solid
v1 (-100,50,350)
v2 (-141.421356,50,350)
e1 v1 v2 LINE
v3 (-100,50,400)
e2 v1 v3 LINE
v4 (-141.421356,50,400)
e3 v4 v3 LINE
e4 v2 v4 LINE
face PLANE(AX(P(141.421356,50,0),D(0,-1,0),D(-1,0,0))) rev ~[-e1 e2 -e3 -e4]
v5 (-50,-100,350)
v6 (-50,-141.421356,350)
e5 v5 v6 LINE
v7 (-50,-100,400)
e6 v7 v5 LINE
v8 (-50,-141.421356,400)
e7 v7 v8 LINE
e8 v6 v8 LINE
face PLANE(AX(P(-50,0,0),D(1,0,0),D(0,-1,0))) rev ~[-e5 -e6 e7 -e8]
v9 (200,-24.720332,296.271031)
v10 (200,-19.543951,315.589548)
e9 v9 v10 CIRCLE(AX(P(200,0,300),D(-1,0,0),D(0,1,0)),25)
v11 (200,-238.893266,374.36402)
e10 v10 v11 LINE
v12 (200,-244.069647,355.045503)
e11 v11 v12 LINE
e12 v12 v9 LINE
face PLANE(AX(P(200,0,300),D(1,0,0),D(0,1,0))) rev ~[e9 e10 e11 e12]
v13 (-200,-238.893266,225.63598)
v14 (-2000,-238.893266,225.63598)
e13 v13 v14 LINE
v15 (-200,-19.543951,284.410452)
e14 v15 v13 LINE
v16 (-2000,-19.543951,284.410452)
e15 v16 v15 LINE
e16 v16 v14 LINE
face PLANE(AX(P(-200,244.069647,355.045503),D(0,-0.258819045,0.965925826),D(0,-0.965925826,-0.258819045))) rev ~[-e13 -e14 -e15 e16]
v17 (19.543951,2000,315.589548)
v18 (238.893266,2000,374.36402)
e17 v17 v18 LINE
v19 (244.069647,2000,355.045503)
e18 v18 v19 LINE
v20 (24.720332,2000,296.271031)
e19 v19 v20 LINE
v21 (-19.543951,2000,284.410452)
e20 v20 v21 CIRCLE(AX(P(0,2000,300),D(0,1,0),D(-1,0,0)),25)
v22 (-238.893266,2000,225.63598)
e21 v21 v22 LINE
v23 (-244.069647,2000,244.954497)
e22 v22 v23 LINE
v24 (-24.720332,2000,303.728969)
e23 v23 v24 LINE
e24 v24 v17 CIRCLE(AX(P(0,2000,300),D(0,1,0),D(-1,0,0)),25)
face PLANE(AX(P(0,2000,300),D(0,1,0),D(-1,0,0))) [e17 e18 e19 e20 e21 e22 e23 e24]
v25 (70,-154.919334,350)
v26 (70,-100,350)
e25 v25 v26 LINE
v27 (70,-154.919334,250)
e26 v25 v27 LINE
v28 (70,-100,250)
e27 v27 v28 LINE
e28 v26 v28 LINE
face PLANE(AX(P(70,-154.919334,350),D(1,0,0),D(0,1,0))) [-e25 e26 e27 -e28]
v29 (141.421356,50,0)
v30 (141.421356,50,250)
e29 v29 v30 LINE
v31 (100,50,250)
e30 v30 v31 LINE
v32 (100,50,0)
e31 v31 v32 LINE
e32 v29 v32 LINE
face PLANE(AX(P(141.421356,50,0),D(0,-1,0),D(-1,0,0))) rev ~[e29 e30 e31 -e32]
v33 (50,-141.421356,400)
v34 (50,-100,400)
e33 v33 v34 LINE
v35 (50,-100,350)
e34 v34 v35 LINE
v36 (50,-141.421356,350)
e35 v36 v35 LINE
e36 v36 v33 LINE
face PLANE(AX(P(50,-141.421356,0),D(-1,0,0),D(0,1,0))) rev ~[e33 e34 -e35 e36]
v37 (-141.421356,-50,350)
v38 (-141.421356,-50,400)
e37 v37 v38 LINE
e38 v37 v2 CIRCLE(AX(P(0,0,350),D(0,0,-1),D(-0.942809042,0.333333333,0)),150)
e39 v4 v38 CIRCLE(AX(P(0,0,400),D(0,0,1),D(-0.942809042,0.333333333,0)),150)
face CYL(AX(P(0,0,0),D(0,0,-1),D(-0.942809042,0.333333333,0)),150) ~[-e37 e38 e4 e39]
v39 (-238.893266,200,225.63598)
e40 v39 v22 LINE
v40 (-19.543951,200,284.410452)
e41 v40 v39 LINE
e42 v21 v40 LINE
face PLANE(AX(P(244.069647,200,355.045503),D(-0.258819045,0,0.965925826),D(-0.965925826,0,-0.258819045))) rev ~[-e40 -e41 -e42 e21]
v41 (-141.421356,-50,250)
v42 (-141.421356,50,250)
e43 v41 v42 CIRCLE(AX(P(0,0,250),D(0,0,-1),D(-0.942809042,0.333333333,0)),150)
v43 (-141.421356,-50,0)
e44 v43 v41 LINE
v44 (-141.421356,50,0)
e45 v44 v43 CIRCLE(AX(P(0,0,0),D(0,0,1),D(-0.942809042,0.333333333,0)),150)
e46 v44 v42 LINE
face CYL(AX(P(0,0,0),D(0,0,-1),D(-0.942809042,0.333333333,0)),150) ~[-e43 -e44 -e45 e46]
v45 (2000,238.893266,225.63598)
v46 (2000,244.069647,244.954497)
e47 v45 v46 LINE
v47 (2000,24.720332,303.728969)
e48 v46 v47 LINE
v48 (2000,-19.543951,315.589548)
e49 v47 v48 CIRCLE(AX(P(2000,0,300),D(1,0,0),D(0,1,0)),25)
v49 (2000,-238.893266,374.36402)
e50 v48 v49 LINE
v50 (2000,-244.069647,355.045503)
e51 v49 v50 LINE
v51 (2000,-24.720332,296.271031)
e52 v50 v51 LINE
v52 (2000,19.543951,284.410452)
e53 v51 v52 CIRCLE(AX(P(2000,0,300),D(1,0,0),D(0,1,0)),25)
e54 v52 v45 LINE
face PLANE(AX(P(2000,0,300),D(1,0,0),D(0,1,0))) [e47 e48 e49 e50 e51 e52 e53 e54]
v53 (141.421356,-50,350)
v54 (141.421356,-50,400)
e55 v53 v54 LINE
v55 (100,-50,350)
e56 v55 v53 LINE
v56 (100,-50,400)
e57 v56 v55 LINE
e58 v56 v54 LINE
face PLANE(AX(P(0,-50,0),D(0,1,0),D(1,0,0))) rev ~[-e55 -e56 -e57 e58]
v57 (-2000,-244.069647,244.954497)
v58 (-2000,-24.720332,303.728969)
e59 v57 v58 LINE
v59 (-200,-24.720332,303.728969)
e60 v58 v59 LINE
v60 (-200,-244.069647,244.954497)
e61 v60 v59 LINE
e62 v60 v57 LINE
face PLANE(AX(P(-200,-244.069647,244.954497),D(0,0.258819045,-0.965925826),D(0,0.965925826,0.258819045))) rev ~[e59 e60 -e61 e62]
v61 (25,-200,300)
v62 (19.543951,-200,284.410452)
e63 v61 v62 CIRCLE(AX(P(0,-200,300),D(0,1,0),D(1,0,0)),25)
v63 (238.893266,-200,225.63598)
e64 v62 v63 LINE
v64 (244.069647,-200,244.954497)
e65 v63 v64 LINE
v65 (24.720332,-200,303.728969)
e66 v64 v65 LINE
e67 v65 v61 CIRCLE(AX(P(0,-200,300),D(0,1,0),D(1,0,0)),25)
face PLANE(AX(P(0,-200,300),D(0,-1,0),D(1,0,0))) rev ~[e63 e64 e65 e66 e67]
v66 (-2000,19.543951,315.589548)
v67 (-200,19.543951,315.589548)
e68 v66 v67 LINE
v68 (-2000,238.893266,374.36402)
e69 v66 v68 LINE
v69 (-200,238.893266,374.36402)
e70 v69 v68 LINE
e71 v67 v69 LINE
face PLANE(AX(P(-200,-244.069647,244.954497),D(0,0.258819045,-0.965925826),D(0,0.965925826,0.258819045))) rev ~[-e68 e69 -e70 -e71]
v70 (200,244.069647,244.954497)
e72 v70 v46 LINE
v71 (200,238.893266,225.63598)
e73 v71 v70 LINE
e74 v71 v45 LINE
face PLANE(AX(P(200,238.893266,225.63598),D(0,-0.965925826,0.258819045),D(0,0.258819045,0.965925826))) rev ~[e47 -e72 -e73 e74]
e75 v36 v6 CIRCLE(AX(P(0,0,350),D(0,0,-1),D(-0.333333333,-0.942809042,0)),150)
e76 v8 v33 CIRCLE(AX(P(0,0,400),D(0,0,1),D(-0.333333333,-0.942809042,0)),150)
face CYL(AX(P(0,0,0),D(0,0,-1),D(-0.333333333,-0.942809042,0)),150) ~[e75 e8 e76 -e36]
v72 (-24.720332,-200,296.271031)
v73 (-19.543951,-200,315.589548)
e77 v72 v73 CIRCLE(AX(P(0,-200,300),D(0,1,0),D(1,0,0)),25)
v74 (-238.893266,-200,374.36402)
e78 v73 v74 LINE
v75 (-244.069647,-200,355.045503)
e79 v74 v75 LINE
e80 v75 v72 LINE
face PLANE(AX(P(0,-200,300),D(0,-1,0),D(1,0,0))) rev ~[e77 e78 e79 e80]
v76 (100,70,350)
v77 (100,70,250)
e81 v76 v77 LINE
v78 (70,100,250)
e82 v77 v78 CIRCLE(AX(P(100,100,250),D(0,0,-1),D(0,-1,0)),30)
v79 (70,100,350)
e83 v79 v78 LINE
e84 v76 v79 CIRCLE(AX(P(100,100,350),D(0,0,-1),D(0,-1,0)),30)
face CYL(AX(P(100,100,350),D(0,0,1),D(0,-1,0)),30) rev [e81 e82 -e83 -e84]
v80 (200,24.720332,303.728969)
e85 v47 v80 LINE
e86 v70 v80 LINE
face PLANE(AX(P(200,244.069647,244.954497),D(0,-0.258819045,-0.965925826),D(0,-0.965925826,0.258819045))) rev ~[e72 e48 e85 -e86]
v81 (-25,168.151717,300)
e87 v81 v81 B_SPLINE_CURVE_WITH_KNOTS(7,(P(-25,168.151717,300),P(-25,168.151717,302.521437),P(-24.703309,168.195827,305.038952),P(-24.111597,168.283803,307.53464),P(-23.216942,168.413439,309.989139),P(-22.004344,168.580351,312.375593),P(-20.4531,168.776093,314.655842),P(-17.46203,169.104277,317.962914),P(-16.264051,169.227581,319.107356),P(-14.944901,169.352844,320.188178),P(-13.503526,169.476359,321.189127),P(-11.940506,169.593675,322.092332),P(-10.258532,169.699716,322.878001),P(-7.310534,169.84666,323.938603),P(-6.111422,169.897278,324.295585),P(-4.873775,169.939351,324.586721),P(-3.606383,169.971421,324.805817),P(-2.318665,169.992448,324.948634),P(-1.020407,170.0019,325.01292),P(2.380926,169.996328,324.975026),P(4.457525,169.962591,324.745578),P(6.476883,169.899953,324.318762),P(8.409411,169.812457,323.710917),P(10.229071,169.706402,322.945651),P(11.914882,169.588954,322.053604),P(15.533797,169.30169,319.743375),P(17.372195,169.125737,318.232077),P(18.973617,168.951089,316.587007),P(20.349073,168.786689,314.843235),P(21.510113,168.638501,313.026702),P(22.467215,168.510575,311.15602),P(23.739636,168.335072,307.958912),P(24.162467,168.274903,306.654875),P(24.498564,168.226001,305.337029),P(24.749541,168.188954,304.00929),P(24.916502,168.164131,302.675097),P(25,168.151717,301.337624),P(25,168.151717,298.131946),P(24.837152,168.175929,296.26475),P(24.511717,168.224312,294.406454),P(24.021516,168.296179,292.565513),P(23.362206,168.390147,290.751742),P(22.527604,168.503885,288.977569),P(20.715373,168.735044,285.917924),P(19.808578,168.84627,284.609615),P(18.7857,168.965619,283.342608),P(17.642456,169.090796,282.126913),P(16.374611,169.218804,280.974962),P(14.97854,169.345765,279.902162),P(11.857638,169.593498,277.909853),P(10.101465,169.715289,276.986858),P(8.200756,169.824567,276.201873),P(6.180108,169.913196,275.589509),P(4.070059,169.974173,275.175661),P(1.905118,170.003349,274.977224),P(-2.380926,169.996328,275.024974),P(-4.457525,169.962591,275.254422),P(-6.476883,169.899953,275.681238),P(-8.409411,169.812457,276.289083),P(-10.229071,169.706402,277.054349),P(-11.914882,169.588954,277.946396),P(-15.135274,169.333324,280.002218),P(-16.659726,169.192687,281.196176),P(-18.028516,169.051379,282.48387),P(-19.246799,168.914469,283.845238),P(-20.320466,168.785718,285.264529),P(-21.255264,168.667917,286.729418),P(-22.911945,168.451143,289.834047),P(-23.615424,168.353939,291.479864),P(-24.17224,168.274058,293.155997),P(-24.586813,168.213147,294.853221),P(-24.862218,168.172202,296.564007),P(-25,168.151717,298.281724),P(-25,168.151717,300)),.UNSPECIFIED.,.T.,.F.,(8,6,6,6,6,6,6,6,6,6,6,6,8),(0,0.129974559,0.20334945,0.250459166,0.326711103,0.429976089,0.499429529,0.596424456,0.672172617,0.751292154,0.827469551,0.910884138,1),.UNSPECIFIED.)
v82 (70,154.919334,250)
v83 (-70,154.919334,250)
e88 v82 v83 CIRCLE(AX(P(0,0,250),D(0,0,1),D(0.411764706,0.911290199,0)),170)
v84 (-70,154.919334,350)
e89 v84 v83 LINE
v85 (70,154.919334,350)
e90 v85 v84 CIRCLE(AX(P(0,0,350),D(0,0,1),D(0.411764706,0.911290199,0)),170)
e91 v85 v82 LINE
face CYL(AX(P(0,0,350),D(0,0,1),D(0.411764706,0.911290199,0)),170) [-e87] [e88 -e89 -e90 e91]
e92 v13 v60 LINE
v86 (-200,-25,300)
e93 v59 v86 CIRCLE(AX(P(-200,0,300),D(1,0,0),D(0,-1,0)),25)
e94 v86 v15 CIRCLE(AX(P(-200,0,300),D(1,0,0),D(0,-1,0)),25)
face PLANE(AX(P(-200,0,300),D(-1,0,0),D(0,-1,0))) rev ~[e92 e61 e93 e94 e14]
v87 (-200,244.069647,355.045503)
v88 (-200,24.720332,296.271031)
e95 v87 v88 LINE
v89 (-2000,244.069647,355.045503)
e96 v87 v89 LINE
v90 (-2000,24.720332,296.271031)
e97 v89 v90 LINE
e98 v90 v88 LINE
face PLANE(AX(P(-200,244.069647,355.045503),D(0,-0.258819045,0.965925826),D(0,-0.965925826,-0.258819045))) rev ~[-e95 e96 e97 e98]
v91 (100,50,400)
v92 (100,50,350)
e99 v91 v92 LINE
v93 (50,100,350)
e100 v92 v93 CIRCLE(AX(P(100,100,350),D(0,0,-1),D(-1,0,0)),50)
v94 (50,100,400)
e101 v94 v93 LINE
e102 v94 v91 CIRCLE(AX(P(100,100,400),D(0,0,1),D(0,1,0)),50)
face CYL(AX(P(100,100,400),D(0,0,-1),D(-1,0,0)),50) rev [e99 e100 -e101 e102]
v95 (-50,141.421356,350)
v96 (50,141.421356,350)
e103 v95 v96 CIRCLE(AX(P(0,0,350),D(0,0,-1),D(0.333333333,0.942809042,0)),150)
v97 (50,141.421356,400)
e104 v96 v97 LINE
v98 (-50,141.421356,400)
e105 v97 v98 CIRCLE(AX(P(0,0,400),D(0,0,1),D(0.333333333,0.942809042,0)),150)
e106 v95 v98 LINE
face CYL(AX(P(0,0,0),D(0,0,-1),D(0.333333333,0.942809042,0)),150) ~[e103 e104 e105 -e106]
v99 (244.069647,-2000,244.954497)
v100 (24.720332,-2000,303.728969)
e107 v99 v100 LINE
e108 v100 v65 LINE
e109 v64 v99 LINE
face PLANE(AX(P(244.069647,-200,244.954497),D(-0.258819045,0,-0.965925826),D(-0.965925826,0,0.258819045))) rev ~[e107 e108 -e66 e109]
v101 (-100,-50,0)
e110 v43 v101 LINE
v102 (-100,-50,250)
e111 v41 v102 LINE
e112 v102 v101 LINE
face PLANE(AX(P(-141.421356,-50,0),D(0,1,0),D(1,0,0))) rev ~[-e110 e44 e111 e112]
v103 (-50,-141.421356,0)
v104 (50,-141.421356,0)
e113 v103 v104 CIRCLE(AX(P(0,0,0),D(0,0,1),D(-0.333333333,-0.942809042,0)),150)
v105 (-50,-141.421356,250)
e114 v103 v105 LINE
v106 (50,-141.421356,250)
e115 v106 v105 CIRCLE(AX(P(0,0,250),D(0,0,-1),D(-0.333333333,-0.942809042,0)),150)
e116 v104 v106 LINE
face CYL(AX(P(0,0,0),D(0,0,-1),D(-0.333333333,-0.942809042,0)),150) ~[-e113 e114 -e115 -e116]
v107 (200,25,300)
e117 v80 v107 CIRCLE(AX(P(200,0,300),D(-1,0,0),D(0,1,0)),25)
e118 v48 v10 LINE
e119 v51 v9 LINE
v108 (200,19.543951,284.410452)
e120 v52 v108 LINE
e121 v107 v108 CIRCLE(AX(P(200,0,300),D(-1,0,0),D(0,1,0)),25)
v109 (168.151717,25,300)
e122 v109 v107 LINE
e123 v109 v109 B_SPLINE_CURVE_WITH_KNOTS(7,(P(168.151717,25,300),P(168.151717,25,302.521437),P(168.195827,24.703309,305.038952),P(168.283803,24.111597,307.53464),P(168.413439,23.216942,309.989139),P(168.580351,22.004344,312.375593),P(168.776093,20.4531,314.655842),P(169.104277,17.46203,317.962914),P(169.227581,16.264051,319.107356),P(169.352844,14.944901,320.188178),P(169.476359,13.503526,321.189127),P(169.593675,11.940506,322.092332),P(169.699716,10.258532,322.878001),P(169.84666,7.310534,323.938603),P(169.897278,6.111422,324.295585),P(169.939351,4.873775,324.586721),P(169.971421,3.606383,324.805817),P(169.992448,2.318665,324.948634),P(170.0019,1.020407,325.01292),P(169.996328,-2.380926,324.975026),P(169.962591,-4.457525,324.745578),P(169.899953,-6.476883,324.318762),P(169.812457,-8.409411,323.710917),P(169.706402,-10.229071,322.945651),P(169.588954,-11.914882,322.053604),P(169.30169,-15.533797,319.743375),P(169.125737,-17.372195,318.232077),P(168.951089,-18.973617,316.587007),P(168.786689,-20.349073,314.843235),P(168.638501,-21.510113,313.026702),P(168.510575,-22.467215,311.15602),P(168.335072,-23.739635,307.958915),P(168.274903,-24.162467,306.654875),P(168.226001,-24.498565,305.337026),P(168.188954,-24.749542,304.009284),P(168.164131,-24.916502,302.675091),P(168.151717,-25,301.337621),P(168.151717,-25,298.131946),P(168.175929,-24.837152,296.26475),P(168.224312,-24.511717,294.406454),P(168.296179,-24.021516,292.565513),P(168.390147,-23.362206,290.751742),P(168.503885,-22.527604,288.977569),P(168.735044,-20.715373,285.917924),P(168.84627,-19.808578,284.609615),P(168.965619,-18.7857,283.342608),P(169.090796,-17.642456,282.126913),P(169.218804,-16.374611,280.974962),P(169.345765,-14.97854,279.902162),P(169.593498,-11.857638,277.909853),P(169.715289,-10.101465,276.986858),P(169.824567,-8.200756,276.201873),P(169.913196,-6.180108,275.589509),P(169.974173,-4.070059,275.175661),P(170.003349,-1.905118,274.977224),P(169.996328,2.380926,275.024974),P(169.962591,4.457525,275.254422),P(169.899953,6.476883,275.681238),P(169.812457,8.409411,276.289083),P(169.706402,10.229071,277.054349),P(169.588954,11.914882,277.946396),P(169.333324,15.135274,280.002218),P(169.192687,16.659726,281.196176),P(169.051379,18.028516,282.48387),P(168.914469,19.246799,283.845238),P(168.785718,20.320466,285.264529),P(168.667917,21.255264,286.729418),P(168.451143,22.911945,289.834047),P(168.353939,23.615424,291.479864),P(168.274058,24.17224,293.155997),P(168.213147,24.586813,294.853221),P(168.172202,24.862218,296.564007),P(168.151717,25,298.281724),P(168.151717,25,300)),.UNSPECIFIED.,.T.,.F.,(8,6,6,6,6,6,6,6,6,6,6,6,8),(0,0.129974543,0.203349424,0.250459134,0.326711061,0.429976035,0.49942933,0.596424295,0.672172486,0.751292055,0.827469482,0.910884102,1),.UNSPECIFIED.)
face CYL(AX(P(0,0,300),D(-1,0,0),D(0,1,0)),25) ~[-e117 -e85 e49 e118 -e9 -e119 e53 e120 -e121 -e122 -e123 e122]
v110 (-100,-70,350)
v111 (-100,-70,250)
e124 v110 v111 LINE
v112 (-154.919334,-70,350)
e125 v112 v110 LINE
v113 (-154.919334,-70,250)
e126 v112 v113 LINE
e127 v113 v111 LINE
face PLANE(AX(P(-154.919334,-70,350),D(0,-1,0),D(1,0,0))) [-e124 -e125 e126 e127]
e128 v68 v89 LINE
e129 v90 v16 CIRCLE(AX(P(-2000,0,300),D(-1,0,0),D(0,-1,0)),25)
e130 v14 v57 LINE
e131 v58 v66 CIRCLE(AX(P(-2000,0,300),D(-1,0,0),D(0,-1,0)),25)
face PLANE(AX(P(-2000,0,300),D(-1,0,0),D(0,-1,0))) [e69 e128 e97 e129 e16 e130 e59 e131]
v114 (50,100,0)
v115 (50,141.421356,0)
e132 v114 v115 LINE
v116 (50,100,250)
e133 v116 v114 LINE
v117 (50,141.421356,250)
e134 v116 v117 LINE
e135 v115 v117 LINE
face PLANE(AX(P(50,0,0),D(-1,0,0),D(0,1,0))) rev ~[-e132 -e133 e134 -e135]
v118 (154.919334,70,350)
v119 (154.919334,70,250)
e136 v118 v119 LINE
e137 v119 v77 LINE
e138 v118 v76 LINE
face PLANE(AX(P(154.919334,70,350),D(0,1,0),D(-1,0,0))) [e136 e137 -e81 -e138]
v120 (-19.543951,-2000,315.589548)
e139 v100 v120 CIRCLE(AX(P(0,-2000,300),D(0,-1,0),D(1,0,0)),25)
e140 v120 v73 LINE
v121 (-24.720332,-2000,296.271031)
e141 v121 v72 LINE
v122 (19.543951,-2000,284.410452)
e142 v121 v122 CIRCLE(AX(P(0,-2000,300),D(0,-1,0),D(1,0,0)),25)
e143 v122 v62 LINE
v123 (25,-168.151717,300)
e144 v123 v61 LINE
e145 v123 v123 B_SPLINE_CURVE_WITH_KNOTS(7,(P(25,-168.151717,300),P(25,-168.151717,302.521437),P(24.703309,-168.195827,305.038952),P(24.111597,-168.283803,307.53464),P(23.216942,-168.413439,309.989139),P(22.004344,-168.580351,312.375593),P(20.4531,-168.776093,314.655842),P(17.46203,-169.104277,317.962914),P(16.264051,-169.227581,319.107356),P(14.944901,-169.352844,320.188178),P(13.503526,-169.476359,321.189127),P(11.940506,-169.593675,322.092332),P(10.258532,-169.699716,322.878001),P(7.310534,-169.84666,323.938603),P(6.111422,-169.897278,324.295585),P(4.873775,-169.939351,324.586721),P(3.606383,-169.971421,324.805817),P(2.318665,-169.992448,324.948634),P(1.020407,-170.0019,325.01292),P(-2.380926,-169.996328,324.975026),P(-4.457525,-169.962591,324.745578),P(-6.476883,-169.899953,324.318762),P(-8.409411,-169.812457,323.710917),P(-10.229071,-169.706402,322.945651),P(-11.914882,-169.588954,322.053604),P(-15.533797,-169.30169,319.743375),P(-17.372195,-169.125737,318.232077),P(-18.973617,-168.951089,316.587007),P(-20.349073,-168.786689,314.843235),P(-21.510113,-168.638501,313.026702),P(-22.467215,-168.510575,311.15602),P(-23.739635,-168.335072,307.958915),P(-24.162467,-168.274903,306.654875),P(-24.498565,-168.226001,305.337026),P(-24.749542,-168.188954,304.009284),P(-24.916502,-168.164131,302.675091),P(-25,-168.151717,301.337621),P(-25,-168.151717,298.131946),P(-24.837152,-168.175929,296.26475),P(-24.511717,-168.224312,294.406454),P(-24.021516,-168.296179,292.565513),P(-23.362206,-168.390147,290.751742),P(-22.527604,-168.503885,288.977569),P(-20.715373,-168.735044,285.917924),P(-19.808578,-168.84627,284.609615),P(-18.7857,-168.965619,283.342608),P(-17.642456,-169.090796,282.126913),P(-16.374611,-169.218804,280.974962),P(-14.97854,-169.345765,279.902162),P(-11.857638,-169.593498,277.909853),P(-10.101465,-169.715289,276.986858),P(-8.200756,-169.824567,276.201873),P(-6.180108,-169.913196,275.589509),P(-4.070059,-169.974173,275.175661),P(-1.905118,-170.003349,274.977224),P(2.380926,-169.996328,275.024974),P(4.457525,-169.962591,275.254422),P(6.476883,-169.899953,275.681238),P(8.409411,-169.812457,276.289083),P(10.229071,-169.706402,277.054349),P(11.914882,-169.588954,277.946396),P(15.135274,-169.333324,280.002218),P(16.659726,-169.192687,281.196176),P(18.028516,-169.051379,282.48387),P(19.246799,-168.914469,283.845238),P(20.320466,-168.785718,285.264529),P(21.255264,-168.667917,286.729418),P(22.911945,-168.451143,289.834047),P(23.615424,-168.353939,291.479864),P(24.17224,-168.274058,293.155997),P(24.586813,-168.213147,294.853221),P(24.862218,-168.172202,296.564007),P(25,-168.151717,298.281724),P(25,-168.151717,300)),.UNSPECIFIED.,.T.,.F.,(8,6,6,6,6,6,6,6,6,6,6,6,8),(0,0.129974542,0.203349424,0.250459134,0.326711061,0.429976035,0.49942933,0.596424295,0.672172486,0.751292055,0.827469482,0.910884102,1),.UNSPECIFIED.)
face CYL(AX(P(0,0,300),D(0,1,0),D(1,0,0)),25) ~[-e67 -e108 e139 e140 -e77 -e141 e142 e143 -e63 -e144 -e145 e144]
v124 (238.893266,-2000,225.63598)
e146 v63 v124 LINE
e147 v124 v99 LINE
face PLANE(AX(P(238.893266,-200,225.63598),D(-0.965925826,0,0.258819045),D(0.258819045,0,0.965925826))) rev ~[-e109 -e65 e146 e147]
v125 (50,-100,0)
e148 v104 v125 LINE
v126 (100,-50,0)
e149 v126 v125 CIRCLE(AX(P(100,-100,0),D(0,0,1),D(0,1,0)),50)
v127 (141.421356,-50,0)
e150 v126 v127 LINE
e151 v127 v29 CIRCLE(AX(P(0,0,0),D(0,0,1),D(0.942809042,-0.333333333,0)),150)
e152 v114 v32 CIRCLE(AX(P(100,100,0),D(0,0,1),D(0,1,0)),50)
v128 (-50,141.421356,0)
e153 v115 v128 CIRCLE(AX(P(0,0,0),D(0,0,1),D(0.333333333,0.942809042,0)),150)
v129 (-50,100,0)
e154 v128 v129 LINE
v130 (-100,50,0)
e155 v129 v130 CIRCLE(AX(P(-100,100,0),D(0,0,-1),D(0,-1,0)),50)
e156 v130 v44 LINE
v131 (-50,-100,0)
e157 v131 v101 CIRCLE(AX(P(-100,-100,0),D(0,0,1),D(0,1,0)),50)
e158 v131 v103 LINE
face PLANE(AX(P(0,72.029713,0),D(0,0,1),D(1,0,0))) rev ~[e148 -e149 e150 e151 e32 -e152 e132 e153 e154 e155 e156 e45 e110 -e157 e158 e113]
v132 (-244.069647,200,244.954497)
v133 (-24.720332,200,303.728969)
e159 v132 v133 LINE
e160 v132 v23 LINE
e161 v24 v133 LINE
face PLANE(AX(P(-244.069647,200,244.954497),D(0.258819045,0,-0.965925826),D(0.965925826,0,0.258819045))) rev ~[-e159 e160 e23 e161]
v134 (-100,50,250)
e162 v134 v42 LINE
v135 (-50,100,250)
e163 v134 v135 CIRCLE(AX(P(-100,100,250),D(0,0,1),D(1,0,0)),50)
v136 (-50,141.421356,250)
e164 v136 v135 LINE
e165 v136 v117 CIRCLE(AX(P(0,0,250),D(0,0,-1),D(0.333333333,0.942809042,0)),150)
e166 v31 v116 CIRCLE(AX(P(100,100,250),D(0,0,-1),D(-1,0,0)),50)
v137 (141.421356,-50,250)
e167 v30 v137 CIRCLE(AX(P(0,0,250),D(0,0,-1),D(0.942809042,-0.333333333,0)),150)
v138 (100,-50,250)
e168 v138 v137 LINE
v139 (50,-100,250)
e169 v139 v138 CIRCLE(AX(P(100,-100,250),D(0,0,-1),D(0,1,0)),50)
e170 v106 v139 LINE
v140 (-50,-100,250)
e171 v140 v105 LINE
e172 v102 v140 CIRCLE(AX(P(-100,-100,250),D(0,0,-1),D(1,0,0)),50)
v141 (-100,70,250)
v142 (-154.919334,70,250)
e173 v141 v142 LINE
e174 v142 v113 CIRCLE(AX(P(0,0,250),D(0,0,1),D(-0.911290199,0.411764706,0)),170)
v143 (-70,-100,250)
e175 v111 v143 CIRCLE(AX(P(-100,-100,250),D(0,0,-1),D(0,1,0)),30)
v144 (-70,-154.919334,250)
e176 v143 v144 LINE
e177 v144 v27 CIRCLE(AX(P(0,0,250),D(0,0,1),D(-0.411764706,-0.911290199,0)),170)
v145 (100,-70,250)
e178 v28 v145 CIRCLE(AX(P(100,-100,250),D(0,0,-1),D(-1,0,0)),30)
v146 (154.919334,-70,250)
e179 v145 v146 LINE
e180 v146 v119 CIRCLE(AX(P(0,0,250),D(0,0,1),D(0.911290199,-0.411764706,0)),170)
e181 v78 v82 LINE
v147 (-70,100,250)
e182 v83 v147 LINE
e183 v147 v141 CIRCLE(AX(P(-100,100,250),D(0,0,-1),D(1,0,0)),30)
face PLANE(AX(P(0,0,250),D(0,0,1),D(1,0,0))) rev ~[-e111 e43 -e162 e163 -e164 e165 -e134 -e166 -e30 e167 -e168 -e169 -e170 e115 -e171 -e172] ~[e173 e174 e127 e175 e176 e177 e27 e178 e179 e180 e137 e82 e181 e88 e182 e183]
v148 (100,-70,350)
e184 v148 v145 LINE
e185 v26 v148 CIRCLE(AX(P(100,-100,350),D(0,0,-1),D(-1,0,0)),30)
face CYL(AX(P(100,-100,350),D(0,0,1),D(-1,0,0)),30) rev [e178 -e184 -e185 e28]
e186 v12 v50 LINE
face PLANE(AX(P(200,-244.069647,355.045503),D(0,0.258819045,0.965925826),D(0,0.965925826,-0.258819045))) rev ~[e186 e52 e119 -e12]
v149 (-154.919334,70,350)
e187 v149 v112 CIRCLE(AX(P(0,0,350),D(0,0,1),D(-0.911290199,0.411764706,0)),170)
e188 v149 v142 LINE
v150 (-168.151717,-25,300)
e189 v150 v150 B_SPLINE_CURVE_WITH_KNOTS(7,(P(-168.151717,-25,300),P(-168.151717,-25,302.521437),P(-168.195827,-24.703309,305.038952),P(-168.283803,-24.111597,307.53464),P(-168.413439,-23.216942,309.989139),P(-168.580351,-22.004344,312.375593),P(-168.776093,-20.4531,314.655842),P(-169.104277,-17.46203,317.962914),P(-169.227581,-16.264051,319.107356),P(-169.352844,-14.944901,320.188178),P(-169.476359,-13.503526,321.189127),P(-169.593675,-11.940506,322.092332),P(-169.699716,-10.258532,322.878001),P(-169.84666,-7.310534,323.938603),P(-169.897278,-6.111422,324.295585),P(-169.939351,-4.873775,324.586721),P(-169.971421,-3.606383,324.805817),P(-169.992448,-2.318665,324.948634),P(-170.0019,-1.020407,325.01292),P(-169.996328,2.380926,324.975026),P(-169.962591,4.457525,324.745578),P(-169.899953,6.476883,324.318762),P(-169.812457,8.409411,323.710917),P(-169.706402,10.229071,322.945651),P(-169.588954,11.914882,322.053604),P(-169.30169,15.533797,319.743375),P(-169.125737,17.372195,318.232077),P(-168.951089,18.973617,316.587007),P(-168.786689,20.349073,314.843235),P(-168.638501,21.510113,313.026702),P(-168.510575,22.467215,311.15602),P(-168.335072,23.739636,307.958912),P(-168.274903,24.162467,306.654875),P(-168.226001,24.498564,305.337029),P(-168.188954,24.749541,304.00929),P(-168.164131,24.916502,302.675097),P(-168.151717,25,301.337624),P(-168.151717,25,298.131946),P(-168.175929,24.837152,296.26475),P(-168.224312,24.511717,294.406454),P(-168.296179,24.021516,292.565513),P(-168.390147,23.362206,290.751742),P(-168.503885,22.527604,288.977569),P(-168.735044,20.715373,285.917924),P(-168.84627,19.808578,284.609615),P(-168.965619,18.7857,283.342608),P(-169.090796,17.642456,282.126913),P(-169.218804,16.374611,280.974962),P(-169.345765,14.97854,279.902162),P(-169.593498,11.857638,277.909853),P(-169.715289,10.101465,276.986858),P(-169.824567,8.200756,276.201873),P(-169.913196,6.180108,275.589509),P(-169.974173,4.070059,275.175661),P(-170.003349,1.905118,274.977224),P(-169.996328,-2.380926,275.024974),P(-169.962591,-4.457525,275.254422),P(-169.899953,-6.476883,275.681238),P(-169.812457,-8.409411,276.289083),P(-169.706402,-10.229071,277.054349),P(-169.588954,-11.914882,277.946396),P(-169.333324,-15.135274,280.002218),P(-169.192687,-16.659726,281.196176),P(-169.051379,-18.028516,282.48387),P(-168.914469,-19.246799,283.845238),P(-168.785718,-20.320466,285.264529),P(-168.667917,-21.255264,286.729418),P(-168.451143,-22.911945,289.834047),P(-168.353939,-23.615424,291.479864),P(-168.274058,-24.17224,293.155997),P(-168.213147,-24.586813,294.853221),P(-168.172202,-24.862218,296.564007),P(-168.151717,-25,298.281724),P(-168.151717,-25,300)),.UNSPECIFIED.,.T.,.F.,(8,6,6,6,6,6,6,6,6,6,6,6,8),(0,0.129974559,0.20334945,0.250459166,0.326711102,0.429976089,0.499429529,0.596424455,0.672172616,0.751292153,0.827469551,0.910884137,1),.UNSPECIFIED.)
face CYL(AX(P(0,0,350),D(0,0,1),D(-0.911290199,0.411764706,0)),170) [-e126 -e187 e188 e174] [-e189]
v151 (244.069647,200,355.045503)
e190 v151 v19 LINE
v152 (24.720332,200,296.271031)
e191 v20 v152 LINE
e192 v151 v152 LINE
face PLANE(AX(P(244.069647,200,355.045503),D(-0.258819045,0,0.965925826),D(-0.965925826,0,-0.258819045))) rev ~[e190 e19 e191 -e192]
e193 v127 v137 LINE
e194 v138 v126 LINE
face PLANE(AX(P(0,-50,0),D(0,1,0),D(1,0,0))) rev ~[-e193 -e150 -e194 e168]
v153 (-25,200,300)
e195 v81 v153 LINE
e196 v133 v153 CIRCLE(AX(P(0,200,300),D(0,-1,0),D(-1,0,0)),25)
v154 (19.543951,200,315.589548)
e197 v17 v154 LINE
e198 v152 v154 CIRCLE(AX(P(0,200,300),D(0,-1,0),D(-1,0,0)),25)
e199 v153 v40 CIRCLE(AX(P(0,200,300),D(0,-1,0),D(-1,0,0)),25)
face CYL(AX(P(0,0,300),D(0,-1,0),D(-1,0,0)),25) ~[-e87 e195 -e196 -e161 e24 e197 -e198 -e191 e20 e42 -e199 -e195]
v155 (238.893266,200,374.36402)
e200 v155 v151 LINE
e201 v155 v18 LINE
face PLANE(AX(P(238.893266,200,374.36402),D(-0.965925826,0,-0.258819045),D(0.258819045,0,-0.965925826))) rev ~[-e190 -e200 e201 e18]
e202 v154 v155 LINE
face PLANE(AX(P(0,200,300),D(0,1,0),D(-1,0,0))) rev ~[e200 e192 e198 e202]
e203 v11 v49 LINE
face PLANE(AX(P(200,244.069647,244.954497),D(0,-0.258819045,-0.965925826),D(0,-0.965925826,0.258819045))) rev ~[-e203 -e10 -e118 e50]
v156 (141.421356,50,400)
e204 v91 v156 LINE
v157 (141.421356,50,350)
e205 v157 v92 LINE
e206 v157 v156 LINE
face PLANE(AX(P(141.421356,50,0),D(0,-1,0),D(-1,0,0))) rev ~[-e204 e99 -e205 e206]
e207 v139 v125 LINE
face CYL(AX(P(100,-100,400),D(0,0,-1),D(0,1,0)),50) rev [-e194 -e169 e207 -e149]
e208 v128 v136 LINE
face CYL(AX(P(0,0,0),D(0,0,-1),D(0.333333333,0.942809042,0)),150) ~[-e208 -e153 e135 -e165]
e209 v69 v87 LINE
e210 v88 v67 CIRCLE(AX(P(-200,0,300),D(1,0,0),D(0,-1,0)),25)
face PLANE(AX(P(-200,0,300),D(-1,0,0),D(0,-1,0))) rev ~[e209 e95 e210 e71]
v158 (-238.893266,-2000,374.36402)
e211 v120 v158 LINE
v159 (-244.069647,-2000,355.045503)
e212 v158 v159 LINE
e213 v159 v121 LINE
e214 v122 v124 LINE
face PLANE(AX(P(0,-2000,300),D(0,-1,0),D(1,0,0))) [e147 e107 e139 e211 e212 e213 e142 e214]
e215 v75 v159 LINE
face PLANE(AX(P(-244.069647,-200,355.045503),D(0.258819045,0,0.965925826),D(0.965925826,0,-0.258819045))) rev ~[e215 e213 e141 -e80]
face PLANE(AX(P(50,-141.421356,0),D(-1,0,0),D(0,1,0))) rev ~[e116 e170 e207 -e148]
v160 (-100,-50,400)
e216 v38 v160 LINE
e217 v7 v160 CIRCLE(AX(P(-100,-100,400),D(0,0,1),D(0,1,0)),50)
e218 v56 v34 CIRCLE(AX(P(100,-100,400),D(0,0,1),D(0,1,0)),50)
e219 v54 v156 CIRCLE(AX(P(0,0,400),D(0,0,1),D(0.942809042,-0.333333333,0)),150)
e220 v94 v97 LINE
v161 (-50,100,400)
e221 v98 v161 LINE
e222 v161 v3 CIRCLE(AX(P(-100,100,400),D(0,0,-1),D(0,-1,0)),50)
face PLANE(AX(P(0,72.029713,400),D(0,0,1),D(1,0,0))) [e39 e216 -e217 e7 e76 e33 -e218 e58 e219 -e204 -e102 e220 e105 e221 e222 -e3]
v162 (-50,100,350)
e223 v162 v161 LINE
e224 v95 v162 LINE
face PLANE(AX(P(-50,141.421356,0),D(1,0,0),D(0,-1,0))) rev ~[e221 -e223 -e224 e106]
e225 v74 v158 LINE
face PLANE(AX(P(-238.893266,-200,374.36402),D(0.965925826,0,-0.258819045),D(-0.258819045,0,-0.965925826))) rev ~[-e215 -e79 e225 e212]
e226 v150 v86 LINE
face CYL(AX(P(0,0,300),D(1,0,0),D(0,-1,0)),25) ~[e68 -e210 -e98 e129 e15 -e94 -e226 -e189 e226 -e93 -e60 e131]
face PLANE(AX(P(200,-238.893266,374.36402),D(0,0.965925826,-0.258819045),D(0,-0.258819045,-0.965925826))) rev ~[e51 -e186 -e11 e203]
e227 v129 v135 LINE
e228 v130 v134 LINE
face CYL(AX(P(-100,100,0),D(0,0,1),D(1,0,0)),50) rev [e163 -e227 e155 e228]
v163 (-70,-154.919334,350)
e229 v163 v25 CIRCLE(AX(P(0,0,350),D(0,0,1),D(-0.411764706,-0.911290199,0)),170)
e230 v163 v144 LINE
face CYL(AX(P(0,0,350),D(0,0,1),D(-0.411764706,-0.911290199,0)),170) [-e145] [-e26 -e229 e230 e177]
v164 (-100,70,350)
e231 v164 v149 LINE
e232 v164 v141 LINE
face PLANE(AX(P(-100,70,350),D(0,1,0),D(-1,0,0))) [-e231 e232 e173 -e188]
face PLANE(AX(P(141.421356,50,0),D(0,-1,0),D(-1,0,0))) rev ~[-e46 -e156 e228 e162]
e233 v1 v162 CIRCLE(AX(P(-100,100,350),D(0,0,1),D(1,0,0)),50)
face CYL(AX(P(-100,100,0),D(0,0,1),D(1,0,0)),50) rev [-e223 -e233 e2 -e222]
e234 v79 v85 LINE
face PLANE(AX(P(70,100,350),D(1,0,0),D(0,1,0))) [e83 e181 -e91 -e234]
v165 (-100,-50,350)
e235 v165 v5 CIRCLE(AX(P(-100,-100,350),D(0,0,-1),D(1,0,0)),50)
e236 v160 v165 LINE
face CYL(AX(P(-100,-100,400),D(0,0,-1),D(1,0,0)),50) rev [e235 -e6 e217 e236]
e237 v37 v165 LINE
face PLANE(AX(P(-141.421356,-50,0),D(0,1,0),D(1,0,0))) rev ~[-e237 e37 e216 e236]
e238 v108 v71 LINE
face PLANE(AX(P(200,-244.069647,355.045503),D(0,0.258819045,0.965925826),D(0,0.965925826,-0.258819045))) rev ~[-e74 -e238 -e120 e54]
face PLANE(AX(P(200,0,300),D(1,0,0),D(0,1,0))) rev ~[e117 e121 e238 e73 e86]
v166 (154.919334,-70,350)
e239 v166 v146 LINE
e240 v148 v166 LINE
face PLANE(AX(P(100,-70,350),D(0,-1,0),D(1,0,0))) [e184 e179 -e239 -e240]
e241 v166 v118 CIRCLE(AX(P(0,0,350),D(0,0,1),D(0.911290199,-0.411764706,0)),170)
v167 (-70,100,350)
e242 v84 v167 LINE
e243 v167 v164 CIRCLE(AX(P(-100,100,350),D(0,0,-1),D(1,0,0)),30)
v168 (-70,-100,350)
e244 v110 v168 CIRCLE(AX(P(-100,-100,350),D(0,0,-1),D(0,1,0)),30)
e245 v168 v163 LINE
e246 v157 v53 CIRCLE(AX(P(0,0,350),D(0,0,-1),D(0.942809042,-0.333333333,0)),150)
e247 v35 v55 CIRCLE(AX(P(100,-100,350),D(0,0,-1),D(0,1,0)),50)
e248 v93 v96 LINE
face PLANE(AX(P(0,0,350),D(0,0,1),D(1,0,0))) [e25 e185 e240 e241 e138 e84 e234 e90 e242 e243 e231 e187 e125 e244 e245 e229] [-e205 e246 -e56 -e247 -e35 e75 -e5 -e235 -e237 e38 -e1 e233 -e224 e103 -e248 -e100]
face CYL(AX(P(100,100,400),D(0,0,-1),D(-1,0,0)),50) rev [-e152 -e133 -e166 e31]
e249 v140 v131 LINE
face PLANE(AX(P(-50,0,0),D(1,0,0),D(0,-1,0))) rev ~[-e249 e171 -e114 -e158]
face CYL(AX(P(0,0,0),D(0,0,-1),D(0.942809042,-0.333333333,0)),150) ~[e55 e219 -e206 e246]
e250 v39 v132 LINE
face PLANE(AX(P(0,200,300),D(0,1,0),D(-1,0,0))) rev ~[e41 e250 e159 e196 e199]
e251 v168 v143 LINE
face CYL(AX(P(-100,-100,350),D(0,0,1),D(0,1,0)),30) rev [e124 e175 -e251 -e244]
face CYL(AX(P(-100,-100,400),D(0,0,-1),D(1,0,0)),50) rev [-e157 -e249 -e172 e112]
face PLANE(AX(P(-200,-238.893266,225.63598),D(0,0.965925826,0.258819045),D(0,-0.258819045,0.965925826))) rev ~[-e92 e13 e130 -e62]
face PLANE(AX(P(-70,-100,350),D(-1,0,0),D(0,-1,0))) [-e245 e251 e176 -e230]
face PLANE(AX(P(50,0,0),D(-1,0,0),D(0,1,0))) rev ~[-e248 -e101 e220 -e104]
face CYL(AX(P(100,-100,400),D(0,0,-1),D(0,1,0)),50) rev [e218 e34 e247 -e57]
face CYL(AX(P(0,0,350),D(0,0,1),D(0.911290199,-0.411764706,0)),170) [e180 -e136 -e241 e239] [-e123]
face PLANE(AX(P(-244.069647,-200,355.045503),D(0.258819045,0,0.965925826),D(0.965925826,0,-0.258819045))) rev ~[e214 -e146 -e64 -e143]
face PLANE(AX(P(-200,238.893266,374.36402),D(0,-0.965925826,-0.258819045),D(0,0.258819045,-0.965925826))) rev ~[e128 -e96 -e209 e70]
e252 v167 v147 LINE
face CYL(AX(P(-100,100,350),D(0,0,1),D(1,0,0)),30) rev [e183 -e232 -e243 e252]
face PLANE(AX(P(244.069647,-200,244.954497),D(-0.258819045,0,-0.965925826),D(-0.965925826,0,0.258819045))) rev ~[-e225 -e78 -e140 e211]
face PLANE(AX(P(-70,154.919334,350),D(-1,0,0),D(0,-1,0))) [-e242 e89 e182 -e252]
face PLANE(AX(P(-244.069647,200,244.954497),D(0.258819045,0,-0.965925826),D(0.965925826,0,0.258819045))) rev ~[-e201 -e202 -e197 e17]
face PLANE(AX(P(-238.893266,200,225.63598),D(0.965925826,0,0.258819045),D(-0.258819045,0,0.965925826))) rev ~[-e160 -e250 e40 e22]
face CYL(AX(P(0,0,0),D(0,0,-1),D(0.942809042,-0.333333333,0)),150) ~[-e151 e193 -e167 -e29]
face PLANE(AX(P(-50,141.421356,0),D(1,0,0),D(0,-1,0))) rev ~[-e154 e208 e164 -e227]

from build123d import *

# Parameters (mm, degrees)
BOSS_EXTRUDE1_DEPTH = 400
CIRPATTERN1_COUNT   = 4
FILLET1_R           = 50
BOSS_EXTRUDE2_START = -50
BOSS_EXTRUDE2_DEPTH = 100
SKETCH3_R           = 25
BOSS_EXTRUDE3_DEPTH = 2000
EXTRUDE_THIN1_START = 200
EXTRUDE_THIN1_DEPTH = 1800
CIRPATTERN2_COUNT   = 4


with BuildPart() as part:
    # Sketch1 → Boss-Extrude1 (new body)
    with BuildSketch(Plane(origin=(0, 0, 0), x_dir=(0, 1, 0), z_dir=(0, 0, 1))):
        with BuildLine():
            Line((-50, 141.421356237), (-50, 0))
            Line((-50, 0), (50, 0))
            Line((50, 0), (50, 141.421356237))
            ThreePointArc((50, 141.421356237), (0, 150), (-50, 141.421356237))
        make_face()
    extrude(amount=BOSS_EXTRUDE1_DEPTH)


with BuildPart() as cirpattern1_1:
    # CirPattern1: pattern copy
    add(part.part.rotate(Axis((0, 0, 0), (0, 0, 1)), 1 * 360 / CIRPATTERN1_COUNT))


with BuildPart() as cirpattern1_2:
    # CirPattern1: pattern copy
    add(part.part.rotate(Axis((0, 0, 0), (0, 0, 1)), 2 * 360 / CIRPATTERN1_COUNT))


with BuildPart() as cirpattern1_3:
    # CirPattern1: pattern copy
    add(part.part.rotate(Axis((0, 0, 0), (0, 0, 1)), 3 * 360 / CIRPATTERN1_COUNT))


with BuildPart() as part_1:
    add(part.part)

    # Combine1: union CirPattern1_1, CirPattern1_2, CirPattern1_3
    add(cirpattern1_1.part)
    add(cirpattern1_2.part)
    add(cirpattern1_3.part)

    # Fillet1
    fillet1_edges = [part_1.edges().sort_by_distance(p)[0] for p in [
        (-50, 50, 200),
        (-50, -50, 200),
        (50, -50, 200),
        (50, 50, 200),
    ]]
    fillet(fillet1_edges, radius=FILLET1_R)

    # Sketch2 → Boss-Extrude2 (add)
    with BuildSketch(Plane.XY.offset(400).offset(BOSS_EXTRUDE2_START)):
        with BuildLine():
            Line((-70, 154.919333848), (-70, 100))
            ThreePointArc((-70, 100), (-78.786796564, 78.786796564), (-100, 70))
            Line((-100, 70), (-154.919333848, 70))
            ThreePointArc((-154.919333848, 70), (-170, 0), (-154.919333848, -70))
            Line((-154.919333848, -70), (-100, -70))
            ThreePointArc((-100, -70), (-78.786796564, -78.786796564), (-70, -100))
            Line((-70, -100), (-70, -154.919333848))
            ThreePointArc((-70, -154.919333848), (0, -170), (70, -154.919333848))
            Line((70, -154.919333848), (70, -100))
            ThreePointArc((70, -100), (78.786796564, -78.786796564), (100, -70))
            Line((100, -70), (154.919333848, -70))
            ThreePointArc((154.919333848, -70), (170, 0), (154.919333848, 70))
            Line((154.919333848, 70), (100, 70))
            ThreePointArc((100, 70), (78.786796564, 78.786796564), (70, 100))
            Line((70, 100), (70, 154.919333848))
            ThreePointArc((70, 154.919333848), (0, 170), (-70, 154.919333848))
        make_face()
    extrude(amount=-BOSS_EXTRUDE2_DEPTH)


with BuildPart() as body_2:
    # Sketch3 → Boss-Extrude3 (new body)
    with BuildSketch(Plane(origin=(0, 0, 0), x_dir=(-1, 0, 0), z_dir=(0, 1, 0))):
        with Locations((0, 300)):
            Circle(SKETCH3_R)
    extrude(amount=BOSS_EXTRUDE3_DEPTH)

    # Sketch3<3> → Extrude-Thin1 (add)
    with BuildSketch(Plane(origin=(0, 0, 0), x_dir=(-1, 0, 0), z_dir=(0, 1, 0)).offset(EXTRUDE_THIN1_START)):
        Polygon((-244.069647023, 355.045503013), (238.893266121, 225.635980461), (244.069647023, 244.954496987), (-238.893266121, 374.364019539), align=None)
    extrude(amount=EXTRUDE_THIN1_DEPTH)


with BuildPart() as cirpattern2_1:
    # CirPattern2: pattern copy
    add(body_2.part.rotate(Axis((0, 0, 0), (0, 0, 1)), 1 * 360 / CIRPATTERN2_COUNT))


with BuildPart() as cirpattern2_2:
    # CirPattern2: pattern copy
    add(body_2.part.rotate(Axis((0, 0, 0), (0, 0, 1)), 2 * 360 / CIRPATTERN2_COUNT))


with BuildPart() as cirpattern2_3:
    # CirPattern2: pattern copy
    add(body_2.part.rotate(Axis((0, 0, 0), (0, 0, 1)), 3 * 360 / CIRPATTERN2_COUNT))


with BuildPart() as part_2:
    add(part_1.part)

    # Combine2: union body 2, CirPattern2_1, CirPattern2_2, CirPattern2_3
    add(body_2.part)
    add(cirpattern2_1.part)
    add(cirpattern2_2.part)
    add(cirpattern2_3.part)


solid = part_2.part
